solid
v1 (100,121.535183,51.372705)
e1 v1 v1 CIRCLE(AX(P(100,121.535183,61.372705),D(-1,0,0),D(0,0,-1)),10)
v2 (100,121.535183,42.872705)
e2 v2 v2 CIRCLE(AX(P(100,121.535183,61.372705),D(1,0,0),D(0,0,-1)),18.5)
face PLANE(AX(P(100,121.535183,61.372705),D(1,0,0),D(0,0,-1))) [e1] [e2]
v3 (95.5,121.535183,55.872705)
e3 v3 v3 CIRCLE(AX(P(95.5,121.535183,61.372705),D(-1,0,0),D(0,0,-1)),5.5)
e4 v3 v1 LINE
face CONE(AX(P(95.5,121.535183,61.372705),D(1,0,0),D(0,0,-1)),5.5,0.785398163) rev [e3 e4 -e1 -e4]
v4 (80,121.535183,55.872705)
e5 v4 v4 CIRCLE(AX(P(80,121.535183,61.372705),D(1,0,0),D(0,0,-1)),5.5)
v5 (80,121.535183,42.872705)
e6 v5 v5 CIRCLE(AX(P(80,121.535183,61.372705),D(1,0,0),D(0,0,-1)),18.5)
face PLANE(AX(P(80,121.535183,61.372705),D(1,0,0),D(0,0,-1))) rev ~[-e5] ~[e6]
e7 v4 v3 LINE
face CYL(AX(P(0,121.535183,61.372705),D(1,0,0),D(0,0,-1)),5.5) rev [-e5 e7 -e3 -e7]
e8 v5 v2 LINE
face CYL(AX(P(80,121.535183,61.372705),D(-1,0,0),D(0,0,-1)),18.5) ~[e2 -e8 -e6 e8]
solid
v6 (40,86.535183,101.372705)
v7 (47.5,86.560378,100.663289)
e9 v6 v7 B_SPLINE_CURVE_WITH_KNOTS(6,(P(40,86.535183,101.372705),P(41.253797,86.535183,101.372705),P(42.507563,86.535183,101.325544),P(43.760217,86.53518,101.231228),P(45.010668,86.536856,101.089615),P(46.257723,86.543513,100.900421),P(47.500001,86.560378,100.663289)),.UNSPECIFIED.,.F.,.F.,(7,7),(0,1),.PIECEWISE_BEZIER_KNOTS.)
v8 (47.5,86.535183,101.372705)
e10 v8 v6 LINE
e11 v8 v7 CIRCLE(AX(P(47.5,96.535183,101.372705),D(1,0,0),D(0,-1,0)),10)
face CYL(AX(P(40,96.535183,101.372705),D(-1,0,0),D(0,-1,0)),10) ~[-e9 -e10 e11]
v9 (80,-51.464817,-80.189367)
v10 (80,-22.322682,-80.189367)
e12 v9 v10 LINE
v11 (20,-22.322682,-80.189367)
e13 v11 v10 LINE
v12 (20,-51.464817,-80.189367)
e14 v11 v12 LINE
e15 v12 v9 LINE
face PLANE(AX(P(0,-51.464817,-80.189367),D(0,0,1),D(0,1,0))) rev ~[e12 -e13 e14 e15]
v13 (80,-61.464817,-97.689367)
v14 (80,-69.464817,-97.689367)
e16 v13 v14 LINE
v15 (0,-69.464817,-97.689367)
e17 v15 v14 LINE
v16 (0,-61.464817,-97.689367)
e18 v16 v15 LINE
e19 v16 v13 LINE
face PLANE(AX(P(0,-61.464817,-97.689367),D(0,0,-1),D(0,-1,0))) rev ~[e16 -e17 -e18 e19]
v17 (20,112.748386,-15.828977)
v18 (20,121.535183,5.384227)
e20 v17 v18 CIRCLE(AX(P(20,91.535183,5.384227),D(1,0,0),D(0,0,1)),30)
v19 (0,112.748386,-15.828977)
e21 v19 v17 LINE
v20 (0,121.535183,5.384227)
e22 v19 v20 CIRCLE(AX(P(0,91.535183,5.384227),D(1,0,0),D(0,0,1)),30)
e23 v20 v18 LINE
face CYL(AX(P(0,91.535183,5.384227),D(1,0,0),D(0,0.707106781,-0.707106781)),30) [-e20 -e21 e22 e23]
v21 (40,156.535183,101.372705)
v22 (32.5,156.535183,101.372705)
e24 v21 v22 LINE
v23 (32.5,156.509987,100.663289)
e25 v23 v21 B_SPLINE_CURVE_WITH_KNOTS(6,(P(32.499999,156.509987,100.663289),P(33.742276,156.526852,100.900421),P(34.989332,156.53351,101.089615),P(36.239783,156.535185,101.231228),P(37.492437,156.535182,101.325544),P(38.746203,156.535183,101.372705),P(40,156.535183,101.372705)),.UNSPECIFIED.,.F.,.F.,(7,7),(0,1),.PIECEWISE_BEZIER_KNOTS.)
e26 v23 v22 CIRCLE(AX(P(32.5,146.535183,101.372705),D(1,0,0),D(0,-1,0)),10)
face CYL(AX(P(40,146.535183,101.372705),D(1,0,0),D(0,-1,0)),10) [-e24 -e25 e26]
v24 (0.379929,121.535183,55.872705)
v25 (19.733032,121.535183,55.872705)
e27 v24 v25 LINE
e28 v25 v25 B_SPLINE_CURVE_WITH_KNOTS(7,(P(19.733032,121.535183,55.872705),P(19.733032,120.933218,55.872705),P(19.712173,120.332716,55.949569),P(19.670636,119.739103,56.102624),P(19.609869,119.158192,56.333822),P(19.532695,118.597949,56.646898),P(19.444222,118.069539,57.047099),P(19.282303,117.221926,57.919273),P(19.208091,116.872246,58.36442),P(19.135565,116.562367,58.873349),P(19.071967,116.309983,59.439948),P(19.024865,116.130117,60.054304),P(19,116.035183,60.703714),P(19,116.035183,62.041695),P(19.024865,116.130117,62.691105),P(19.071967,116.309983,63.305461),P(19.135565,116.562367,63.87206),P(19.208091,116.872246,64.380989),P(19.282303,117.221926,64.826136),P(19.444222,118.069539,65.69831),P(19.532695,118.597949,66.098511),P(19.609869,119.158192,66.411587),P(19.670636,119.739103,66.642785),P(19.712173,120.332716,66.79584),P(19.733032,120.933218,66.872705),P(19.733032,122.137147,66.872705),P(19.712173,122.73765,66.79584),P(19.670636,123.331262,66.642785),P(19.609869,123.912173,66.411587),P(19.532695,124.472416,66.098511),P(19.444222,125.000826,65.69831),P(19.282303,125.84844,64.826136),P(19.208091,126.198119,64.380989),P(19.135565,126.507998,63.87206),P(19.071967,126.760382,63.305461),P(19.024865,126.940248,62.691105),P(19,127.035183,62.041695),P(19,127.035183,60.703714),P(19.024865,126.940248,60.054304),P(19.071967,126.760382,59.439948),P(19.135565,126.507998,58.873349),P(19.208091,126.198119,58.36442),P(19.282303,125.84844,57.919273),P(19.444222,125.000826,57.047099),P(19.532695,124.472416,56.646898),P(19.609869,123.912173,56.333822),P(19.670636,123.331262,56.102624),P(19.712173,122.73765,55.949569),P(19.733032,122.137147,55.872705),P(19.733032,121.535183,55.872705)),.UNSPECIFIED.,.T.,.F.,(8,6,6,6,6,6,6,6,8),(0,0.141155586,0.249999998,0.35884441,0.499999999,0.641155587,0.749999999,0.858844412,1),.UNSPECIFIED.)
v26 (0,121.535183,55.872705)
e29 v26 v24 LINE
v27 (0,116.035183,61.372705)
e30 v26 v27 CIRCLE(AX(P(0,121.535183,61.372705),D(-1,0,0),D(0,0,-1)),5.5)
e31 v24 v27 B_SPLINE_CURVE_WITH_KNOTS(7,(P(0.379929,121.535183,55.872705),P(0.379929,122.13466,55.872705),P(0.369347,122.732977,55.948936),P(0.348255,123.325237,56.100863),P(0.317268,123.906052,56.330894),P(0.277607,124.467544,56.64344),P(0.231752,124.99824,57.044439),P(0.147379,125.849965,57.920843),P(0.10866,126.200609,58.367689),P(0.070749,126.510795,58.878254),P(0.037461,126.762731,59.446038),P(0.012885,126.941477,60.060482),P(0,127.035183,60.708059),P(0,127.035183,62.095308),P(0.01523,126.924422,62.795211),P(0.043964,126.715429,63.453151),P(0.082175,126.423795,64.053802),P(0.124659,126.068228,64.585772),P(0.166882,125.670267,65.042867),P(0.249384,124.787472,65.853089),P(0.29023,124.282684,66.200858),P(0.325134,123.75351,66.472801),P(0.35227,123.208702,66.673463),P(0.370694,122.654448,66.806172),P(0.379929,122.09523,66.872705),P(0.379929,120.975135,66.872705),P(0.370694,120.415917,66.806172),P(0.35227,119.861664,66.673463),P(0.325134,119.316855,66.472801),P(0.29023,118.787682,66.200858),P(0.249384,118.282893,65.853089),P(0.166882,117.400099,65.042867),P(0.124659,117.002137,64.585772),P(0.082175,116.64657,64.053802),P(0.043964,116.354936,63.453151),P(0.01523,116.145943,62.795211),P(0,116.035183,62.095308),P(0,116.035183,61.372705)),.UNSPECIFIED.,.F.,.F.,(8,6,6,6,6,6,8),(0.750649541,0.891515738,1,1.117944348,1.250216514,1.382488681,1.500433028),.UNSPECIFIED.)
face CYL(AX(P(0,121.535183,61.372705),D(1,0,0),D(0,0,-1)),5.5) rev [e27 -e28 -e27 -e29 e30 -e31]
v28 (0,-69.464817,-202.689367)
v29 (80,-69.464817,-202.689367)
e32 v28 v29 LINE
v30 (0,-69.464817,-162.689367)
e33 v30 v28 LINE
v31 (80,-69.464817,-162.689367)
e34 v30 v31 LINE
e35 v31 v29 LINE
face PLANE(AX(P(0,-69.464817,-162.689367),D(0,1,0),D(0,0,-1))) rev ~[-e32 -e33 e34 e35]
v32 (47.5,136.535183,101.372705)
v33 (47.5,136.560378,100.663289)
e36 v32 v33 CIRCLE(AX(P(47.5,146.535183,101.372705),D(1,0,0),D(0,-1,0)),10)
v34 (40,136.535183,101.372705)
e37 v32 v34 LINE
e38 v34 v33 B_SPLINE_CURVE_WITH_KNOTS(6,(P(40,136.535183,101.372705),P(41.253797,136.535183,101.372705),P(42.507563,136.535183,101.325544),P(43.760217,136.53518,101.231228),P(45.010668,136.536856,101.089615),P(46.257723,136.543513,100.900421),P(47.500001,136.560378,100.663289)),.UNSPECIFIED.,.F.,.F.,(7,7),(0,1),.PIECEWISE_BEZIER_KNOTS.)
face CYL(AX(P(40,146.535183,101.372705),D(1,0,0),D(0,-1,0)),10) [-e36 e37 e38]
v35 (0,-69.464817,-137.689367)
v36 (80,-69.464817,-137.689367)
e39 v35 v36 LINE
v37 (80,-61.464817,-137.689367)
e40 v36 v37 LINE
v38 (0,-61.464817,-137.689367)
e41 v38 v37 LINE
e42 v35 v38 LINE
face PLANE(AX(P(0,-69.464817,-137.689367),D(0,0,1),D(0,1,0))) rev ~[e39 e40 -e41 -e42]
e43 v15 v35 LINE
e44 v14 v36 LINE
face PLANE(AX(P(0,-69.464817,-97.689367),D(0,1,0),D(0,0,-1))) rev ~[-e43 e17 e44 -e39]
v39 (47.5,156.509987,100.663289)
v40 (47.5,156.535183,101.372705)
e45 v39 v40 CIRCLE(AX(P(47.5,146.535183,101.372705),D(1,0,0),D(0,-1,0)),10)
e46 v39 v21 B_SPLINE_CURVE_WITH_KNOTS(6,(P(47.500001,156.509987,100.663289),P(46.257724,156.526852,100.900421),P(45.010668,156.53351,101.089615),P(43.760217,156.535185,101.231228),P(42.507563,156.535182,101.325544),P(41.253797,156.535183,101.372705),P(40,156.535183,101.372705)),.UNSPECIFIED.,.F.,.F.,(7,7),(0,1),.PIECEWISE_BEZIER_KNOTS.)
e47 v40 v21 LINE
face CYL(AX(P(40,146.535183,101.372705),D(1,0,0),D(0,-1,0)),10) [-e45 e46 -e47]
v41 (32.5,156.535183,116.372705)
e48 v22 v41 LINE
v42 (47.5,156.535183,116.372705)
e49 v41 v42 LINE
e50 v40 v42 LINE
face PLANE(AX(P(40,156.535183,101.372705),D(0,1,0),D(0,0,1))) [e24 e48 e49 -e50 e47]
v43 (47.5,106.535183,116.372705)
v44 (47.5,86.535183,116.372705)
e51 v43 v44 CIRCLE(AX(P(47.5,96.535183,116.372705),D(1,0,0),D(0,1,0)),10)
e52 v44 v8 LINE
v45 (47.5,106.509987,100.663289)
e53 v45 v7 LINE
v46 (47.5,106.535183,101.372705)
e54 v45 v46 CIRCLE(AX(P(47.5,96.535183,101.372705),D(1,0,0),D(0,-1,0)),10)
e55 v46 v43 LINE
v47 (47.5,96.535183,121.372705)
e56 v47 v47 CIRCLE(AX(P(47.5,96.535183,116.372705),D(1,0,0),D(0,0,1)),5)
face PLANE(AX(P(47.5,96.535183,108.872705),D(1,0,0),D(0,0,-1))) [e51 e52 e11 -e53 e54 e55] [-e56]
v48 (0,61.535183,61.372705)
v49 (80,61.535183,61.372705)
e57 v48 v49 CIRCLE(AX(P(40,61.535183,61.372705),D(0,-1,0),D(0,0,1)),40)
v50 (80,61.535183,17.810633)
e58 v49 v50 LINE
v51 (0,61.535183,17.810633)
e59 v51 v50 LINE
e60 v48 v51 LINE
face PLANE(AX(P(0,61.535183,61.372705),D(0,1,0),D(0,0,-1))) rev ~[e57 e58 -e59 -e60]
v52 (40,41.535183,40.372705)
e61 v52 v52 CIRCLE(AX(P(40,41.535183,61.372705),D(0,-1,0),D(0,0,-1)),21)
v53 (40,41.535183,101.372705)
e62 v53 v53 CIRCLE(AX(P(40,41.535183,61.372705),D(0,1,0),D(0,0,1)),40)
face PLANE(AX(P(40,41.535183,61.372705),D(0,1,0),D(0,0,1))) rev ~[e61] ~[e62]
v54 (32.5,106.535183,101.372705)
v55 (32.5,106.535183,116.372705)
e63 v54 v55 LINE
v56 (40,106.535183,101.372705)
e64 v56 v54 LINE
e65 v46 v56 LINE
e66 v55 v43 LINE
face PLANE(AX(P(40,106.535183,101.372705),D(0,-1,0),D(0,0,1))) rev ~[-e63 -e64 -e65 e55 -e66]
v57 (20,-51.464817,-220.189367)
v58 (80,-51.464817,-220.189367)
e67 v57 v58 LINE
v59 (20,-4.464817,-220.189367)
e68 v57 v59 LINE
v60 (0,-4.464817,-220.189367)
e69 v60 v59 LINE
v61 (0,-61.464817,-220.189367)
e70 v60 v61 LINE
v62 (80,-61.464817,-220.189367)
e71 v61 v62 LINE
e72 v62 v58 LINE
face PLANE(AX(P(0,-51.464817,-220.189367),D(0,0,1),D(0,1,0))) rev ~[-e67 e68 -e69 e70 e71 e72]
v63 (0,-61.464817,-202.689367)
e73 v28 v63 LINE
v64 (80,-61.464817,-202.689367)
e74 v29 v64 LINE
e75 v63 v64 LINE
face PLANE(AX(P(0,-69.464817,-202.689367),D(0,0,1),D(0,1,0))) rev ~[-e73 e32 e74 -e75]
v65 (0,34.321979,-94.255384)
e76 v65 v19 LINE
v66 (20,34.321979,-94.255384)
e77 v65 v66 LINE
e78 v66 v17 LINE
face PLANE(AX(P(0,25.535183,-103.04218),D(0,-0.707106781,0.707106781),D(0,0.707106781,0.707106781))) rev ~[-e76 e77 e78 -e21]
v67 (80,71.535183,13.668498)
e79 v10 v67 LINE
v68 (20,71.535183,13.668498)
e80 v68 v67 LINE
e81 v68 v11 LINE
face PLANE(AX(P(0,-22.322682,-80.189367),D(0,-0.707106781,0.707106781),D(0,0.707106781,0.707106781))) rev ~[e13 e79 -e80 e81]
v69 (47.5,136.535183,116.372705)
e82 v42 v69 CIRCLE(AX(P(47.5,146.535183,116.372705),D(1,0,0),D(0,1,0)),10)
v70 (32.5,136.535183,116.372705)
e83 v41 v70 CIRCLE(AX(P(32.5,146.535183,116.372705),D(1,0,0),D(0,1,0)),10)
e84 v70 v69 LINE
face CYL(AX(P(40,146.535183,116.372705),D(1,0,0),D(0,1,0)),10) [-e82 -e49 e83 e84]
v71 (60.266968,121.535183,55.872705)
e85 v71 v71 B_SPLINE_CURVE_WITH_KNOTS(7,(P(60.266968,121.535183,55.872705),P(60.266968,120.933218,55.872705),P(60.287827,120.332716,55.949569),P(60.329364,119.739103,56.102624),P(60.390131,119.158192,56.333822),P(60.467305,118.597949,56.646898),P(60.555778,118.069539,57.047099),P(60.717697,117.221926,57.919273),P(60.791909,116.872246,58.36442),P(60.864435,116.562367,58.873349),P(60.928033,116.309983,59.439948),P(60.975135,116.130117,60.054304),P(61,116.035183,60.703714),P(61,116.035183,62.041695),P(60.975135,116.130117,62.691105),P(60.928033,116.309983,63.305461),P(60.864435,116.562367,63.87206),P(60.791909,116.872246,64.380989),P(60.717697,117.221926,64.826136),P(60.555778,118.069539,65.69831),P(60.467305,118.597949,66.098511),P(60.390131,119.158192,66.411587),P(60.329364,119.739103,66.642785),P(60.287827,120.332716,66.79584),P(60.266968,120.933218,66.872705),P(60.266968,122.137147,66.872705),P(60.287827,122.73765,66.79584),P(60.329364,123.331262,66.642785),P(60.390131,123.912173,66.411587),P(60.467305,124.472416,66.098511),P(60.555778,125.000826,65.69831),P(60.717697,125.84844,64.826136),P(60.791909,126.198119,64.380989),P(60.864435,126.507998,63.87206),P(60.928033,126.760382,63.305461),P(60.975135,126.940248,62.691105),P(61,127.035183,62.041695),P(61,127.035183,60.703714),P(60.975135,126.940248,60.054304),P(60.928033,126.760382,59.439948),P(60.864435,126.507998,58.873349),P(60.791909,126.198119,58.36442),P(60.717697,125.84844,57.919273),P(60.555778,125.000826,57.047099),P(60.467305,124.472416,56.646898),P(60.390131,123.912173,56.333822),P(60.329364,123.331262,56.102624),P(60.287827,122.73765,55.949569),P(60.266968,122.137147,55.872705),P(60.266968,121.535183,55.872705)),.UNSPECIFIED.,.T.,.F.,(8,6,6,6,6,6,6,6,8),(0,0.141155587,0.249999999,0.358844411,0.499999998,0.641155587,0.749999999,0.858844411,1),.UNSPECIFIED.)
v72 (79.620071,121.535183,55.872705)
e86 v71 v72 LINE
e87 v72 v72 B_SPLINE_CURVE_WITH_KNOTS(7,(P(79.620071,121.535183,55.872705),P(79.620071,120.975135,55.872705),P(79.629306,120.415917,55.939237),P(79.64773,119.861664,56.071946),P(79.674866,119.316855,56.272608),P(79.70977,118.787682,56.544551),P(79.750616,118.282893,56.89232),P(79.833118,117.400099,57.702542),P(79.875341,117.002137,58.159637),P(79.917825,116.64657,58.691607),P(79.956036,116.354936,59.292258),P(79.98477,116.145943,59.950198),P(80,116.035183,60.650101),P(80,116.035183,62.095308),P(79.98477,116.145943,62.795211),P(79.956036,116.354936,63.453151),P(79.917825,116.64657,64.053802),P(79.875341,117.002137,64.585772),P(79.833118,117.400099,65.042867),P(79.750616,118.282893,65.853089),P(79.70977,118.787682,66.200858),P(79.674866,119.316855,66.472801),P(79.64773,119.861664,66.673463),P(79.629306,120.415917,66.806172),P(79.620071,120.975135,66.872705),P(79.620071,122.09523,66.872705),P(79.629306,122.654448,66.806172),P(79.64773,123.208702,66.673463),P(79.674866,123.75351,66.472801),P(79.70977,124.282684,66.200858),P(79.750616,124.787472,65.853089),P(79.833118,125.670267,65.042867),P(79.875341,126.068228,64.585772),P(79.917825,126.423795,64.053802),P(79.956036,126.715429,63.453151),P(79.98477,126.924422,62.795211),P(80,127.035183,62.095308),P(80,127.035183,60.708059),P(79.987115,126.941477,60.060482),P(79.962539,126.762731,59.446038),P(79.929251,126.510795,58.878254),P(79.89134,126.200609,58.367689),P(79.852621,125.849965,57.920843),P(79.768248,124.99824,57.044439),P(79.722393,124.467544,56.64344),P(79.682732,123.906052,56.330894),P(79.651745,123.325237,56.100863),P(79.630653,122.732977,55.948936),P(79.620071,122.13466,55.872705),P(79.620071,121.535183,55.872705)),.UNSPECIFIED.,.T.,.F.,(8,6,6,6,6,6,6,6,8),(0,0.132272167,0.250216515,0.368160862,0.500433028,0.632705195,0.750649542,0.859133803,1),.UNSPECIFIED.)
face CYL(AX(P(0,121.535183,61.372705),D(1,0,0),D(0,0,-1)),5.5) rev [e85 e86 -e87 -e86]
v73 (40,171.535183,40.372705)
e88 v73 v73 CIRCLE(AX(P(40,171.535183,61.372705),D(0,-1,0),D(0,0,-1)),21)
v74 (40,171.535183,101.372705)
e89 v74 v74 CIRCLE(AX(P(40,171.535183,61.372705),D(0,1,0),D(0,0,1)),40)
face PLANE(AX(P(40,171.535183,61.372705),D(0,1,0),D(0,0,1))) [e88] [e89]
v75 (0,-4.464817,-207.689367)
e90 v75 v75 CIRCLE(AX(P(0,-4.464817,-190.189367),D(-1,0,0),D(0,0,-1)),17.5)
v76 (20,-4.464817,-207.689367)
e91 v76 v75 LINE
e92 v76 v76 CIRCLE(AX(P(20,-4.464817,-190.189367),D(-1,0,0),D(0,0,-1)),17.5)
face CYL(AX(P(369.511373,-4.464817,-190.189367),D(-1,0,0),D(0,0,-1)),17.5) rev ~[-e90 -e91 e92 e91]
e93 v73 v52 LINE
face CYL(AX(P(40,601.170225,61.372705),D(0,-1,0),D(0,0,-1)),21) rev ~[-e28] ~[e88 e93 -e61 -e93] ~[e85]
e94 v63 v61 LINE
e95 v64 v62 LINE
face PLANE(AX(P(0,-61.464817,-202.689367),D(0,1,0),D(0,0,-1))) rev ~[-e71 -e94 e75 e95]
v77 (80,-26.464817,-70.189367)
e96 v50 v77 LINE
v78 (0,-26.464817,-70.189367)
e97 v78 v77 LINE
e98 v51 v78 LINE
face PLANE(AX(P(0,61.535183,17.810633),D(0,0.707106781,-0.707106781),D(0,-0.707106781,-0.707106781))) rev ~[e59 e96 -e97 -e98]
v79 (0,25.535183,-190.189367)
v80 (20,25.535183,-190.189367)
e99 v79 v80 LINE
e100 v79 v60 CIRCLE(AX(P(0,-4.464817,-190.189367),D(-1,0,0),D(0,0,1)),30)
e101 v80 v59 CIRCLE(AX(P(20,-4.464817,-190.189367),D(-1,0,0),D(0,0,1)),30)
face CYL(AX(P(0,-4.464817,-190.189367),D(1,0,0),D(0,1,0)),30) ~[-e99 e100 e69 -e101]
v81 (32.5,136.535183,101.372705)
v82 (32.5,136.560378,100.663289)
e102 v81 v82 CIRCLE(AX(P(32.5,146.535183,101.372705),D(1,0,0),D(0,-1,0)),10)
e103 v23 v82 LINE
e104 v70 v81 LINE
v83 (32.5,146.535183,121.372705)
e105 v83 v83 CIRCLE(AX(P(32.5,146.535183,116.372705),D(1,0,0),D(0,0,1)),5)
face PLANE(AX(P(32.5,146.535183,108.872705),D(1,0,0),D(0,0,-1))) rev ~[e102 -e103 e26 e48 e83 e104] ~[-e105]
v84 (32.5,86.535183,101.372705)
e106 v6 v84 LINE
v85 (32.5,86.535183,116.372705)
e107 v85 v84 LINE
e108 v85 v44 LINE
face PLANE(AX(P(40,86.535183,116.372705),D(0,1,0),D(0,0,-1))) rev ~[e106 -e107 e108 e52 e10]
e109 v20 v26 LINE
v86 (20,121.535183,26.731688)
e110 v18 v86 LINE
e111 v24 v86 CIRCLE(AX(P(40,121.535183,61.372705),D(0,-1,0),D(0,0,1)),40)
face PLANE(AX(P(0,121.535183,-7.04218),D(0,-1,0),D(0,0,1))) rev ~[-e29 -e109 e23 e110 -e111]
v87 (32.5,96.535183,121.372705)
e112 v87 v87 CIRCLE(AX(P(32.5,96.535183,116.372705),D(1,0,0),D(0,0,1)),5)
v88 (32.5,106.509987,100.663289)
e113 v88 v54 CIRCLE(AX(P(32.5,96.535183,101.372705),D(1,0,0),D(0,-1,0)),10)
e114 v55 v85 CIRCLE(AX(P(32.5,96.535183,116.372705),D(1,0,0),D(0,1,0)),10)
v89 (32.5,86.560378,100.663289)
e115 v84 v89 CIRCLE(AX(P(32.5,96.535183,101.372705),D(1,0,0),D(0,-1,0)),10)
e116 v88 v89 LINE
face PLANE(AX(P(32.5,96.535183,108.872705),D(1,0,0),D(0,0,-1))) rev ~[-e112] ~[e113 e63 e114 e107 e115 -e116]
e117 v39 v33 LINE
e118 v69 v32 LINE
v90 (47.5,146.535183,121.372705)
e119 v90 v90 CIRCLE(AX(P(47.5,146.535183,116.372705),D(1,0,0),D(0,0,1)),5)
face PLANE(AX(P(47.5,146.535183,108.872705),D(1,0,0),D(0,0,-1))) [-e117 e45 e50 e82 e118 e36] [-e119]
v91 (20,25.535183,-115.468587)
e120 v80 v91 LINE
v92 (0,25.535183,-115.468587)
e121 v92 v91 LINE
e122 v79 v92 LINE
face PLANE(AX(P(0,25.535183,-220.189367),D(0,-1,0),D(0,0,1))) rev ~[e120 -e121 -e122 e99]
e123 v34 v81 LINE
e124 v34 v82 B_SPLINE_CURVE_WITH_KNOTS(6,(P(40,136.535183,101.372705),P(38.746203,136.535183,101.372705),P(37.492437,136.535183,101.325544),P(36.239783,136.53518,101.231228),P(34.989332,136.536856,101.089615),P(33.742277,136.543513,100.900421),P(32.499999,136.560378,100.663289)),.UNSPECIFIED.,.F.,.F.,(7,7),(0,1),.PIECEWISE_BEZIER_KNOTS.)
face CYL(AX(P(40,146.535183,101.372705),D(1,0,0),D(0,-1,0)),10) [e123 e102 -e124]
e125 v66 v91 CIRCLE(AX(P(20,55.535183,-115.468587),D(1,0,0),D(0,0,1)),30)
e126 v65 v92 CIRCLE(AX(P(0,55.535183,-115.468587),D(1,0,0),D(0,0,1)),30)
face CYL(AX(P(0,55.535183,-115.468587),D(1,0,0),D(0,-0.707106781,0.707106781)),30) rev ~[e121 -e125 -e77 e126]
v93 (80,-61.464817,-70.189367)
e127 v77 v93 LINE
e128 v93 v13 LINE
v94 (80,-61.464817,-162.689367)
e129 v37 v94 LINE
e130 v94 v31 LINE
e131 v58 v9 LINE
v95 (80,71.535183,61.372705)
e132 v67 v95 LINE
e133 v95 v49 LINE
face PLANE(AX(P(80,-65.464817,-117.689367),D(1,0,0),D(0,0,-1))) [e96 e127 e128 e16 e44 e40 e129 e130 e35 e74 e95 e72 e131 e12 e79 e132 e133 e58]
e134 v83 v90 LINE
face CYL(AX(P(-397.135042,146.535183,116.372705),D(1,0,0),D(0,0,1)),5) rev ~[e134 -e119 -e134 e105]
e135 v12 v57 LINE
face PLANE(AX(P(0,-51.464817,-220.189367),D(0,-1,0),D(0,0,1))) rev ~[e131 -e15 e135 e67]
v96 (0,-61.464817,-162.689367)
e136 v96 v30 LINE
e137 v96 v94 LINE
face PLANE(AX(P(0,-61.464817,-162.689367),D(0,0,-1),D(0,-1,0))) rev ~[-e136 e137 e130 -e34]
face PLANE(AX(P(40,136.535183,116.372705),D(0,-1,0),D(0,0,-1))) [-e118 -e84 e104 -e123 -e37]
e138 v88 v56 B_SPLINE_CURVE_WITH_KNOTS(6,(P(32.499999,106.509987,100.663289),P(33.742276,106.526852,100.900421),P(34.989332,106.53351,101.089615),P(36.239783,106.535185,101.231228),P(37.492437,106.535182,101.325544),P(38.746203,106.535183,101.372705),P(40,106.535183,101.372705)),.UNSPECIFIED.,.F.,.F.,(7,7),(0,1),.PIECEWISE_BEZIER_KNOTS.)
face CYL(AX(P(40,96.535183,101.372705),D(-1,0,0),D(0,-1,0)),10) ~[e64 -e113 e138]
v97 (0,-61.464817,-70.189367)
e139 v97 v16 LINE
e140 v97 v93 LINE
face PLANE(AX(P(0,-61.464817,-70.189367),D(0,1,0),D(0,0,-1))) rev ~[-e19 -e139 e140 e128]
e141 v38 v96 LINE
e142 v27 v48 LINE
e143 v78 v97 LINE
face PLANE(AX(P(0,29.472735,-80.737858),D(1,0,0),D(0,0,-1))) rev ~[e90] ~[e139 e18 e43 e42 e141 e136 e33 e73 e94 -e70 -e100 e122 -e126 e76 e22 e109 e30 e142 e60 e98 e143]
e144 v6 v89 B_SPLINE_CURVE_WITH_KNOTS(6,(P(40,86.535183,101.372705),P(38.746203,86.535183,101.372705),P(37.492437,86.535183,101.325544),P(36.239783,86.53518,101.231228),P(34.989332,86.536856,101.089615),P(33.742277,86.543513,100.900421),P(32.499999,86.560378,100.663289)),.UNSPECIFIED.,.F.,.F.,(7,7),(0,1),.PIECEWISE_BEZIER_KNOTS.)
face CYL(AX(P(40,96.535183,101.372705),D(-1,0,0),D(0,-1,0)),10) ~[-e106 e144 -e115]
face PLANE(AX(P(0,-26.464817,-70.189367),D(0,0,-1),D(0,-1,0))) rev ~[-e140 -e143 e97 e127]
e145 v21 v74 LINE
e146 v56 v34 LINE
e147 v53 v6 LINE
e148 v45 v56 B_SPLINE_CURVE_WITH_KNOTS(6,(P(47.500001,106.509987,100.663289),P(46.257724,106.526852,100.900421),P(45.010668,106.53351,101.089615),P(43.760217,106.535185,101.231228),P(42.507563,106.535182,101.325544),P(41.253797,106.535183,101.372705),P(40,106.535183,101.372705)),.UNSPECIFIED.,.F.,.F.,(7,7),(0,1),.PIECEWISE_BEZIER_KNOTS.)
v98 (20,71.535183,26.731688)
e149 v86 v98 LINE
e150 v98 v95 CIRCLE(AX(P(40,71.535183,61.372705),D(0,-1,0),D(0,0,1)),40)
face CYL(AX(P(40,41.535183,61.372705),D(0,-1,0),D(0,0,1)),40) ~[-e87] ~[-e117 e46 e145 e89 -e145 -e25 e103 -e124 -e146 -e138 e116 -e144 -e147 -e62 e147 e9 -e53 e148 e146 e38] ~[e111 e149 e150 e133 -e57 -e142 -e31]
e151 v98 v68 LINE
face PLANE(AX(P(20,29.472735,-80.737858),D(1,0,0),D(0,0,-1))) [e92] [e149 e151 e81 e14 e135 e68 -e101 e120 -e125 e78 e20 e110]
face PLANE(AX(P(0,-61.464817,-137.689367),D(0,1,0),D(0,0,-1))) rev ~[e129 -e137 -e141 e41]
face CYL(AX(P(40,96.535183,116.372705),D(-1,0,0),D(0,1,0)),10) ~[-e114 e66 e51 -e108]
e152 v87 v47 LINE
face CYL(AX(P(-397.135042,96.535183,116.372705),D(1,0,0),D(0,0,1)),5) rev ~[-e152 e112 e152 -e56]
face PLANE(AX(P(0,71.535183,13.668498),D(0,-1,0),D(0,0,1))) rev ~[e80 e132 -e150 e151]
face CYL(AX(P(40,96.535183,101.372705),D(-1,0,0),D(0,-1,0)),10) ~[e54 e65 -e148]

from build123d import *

# Parameters (mm, degrees)
SKETCH1_W                  = 40
SKETCH1_H                  = 2.522686521
BOSS_EXTRUDE1_DEPTH        = 80
BOSS_EXTRUDE2_DEPTH        = 20
FILLET1_R                  = 30
F_25_0_35_DIAMETER_HOLE1_D = 35
BOSS_EXTRUDE3_DEPTH        = 50
BOSS_EXTRUDE3_DEPTH_BACK   = 80
SKETCH3_R                  = 40
BOSS_EXTRUDE4_DEPTH        = 7.5
F_25_0_42_DIAMETER_HOLE1_D = 42
F_10_0_10_DIAMETER_HOLE1_D = 10
SKETCH7_R                  = 18.5
BOSS_EXTRUDE5_DEPTH        = 20


with BuildPart() as part:
    # Sketch1 → Boss-Extrude1 (new body)
    with BuildSketch(Plane(origin=(0, 0, 0), x_dir=(0, 0, -1), z_dir=(1, 0, 0))):
        Polygon((137.68936662, -61.464817383), (97.68936662, -61.464817383), (97.68936662, -69.464817383), (137.68936662, -69.464817383), (137.68936662, -66.026855296), align=None)
        Polygon((-13.668497756, 71.535182617), (-61.372704525, 71.535182617), (-61.372704525, 61.535182617), (-17.81063338, 61.535182617), (70.18936662, -26.464817383), (70.18936662, -61.464817383), (97.68936662, -61.464817383), (97.68936662, -58.942130862), (137.68936662, -58.942130862), (137.68936662, -61.464817383), (150.18936662, -61.464817383), (150.18936662, -51.464817383), (80.18936662, -51.464817383), (80.18936662, -22.32268176), align=None)
        Polygon((220.18936662, -51.464817383), (150.18936662, -51.464817383), (150.18936662, -61.464817383), (162.68936662, -61.464817383), (162.68936662, -58.942130862), (202.68936662, -58.942130862), (202.68936662, -61.464817383), (220.18936662, -61.464817383), align=None)
        with Locations((182.68936662, -60.203474123)):
            Rectangle(SKETCH1_W, SKETCH1_H)
        Polygon((202.68936662, -61.464817383), (162.68936662, -61.464817383), (162.68936662, -66.026855296), (162.68936662, -69.464817383), (202.68936662, -69.464817383), align=None)
        with Locations((117.68936662, -60.203474123)):
            Rectangle(SKETCH1_W, SKETCH1_H)
    extrude(amount=BOSS_EXTRUDE1_DEPTH)

    # Sketch1<5> → Boss-Extrude2 (add)
    with BuildSketch(Plane(origin=(0, 0, 0), x_dir=(0, 0, -1), z_dir=(1, 0, 0))):
        Polygon((-61.372704525, 121.535182617), (-61.372704525, 71.535182617), (-13.668497756, 71.535182617), (80.18936662, -22.32268176), (80.18936662, -51.464817383), (220.18936662, -51.464817383), (220.18936662, 25.535182617), (103.042180363, 25.535182617), (7.042180363, 121.535182617), align=None)
    extrude(amount=BOSS_EXTRUDE2_DEPTH)

    # Fillet1
    fillet1_edges = [part.edges().sort_by_distance(p)[0] for p in [
        (10, 121.535182617, -7.042180363),
        (10, 25.535182617, -220.18936662),
        (10, 25.535182617, -103.042180363),
    ]]
    fillet(fillet1_edges, radius=FILLET1_R)

    # Ø25.0 (35) Diameter Hole1 (through all)
    with Locations(Plane(origin=(20, -4.464817383, -190.18936662), x_dir=(0, 0, 1), z_dir=(1, 0, 0))):
        with Locations((0, 0)):
            Hole(F_25_0_35_DIAMETER_HOLE1_D / 2)

    # Sketch3 → Boss-Extrude3 (add, two sides: drawn at the far end of the back side and taken through both)
    with BuildSketch(Plane(origin=(0, 121.535182617, 0), x_dir=(1, 0, 0), z_dir=(0, 1, 0)).offset(-BOSS_EXTRUDE3_DEPTH_BACK)):
        with Locations(Location((40, -61.372704525, 0), (0, 0, 270))):
            Circle(SKETCH3_R)
    extrude(amount=BOSS_EXTRUDE3_DEPTH + BOSS_EXTRUDE3_DEPTH_BACK)

    # Sketch4 → Boss-Extrude4 (add, symmetric)
    with BuildSketch(Plane.ZY.offset(-40)):
        with BuildLine():
            Line((101.372704525, 156.535182617), (116.372704525, 156.535182617))
            ThreePointArc((116.372704525, 156.535182617), (126.372704525, 146.535182617), (116.372704525, 136.535182617))
            Line((116.372704525, 136.535182617), (101.372704525, 136.535182617))
            ThreePointArc((101.372704525, 136.535182617), (91.372704525, 146.535182617), (101.372704525, 156.535182617))
        make_face()
        with BuildLine():
            Line((101.372704525, 106.535182617), (116.372704525, 106.535182617))
            ThreePointArc((116.372704525, 106.535182617), (126.372704525, 96.535182617), (116.372704525, 86.535182617))
            Line((116.372704525, 86.535182617), (101.372704525, 86.535182617))
            ThreePointArc((101.372704525, 86.535182617), (91.372704525, 96.535182617), (101.372704525, 106.535182617))
        make_face()
    extrude(amount=BOSS_EXTRUDE4_DEPTH, both=True)

    # Ø25.0 (42) Diameter Hole1 (through all)
    with Locations(Plane(origin=(40, 171.535182617, 61.372704525), x_dir=(0, 0, 1), z_dir=(0, 1, 0))):
        with Locations((0, 0)):
            Hole(F_25_0_42_DIAMETER_HOLE1_D / 2)

    # Ø10.0 (10) Diameter Hole1 (through all)
    with Locations(Plane(origin=(32.5, 146.535182617, 116.372704525), x_dir=(0, 0, -1), z_dir=(-1, 0, 0))):
        with Locations((0, 0), (0, 50)):
            Hole(F_10_0_10_DIAMETER_HOLE1_D / 2)


with BuildPart() as body_2:
    # Sketch7 → Boss-Extrude5 (new body)
    with BuildSketch(Plane(origin=(80, 0, 0), x_dir=(0, 0, -1), z_dir=(1, 0, 0))):
        with Locations((-61.372704525, 121.535182617)):
            Circle(SKETCH7_R)
    extrude(amount=BOSS_EXTRUDE5_DEPTH)


with BuildPart() as csk_for_m10_flat_head_machine_screw1_tool:
    # Sketch8 → CSK for M10 Flat Head Machine Screw1 (revolve)
    with BuildSketch(Plane(origin=(100, 121.535182617, 61.372704525), x_dir=(0, 0, -1), z_dir=(0, 1, 0))):
        Polygon((0, 0), (0, 100), (5.5, 100), (5.5, 4.5), (10, 0), align=None)
    revolve(axis=Axis((106.35, 121.535182617, 61.372704525), (-1, 0, 0)))


with BuildPart() as part_1:
    add(part.part)

    # CSK for M10 Flat Head Machine Screw1: cut by csk_for_m10_flat_head_machine_screw1_tool
    add(csk_for_m10_flat_head_machine_screw1_tool.part, mode=Mode.SUBTRACT)


with BuildPart() as body_2_1:
    add(body_2.part)

    # CSK for M10 Flat Head Machine Screw1: cut by csk_for_m10_flat_head_machine_screw1_tool
    add(csk_for_m10_flat_head_machine_screw1_tool.part, mode=Mode.SUBTRACT)


solid = Compound([part_1.part, body_2_1.part])
